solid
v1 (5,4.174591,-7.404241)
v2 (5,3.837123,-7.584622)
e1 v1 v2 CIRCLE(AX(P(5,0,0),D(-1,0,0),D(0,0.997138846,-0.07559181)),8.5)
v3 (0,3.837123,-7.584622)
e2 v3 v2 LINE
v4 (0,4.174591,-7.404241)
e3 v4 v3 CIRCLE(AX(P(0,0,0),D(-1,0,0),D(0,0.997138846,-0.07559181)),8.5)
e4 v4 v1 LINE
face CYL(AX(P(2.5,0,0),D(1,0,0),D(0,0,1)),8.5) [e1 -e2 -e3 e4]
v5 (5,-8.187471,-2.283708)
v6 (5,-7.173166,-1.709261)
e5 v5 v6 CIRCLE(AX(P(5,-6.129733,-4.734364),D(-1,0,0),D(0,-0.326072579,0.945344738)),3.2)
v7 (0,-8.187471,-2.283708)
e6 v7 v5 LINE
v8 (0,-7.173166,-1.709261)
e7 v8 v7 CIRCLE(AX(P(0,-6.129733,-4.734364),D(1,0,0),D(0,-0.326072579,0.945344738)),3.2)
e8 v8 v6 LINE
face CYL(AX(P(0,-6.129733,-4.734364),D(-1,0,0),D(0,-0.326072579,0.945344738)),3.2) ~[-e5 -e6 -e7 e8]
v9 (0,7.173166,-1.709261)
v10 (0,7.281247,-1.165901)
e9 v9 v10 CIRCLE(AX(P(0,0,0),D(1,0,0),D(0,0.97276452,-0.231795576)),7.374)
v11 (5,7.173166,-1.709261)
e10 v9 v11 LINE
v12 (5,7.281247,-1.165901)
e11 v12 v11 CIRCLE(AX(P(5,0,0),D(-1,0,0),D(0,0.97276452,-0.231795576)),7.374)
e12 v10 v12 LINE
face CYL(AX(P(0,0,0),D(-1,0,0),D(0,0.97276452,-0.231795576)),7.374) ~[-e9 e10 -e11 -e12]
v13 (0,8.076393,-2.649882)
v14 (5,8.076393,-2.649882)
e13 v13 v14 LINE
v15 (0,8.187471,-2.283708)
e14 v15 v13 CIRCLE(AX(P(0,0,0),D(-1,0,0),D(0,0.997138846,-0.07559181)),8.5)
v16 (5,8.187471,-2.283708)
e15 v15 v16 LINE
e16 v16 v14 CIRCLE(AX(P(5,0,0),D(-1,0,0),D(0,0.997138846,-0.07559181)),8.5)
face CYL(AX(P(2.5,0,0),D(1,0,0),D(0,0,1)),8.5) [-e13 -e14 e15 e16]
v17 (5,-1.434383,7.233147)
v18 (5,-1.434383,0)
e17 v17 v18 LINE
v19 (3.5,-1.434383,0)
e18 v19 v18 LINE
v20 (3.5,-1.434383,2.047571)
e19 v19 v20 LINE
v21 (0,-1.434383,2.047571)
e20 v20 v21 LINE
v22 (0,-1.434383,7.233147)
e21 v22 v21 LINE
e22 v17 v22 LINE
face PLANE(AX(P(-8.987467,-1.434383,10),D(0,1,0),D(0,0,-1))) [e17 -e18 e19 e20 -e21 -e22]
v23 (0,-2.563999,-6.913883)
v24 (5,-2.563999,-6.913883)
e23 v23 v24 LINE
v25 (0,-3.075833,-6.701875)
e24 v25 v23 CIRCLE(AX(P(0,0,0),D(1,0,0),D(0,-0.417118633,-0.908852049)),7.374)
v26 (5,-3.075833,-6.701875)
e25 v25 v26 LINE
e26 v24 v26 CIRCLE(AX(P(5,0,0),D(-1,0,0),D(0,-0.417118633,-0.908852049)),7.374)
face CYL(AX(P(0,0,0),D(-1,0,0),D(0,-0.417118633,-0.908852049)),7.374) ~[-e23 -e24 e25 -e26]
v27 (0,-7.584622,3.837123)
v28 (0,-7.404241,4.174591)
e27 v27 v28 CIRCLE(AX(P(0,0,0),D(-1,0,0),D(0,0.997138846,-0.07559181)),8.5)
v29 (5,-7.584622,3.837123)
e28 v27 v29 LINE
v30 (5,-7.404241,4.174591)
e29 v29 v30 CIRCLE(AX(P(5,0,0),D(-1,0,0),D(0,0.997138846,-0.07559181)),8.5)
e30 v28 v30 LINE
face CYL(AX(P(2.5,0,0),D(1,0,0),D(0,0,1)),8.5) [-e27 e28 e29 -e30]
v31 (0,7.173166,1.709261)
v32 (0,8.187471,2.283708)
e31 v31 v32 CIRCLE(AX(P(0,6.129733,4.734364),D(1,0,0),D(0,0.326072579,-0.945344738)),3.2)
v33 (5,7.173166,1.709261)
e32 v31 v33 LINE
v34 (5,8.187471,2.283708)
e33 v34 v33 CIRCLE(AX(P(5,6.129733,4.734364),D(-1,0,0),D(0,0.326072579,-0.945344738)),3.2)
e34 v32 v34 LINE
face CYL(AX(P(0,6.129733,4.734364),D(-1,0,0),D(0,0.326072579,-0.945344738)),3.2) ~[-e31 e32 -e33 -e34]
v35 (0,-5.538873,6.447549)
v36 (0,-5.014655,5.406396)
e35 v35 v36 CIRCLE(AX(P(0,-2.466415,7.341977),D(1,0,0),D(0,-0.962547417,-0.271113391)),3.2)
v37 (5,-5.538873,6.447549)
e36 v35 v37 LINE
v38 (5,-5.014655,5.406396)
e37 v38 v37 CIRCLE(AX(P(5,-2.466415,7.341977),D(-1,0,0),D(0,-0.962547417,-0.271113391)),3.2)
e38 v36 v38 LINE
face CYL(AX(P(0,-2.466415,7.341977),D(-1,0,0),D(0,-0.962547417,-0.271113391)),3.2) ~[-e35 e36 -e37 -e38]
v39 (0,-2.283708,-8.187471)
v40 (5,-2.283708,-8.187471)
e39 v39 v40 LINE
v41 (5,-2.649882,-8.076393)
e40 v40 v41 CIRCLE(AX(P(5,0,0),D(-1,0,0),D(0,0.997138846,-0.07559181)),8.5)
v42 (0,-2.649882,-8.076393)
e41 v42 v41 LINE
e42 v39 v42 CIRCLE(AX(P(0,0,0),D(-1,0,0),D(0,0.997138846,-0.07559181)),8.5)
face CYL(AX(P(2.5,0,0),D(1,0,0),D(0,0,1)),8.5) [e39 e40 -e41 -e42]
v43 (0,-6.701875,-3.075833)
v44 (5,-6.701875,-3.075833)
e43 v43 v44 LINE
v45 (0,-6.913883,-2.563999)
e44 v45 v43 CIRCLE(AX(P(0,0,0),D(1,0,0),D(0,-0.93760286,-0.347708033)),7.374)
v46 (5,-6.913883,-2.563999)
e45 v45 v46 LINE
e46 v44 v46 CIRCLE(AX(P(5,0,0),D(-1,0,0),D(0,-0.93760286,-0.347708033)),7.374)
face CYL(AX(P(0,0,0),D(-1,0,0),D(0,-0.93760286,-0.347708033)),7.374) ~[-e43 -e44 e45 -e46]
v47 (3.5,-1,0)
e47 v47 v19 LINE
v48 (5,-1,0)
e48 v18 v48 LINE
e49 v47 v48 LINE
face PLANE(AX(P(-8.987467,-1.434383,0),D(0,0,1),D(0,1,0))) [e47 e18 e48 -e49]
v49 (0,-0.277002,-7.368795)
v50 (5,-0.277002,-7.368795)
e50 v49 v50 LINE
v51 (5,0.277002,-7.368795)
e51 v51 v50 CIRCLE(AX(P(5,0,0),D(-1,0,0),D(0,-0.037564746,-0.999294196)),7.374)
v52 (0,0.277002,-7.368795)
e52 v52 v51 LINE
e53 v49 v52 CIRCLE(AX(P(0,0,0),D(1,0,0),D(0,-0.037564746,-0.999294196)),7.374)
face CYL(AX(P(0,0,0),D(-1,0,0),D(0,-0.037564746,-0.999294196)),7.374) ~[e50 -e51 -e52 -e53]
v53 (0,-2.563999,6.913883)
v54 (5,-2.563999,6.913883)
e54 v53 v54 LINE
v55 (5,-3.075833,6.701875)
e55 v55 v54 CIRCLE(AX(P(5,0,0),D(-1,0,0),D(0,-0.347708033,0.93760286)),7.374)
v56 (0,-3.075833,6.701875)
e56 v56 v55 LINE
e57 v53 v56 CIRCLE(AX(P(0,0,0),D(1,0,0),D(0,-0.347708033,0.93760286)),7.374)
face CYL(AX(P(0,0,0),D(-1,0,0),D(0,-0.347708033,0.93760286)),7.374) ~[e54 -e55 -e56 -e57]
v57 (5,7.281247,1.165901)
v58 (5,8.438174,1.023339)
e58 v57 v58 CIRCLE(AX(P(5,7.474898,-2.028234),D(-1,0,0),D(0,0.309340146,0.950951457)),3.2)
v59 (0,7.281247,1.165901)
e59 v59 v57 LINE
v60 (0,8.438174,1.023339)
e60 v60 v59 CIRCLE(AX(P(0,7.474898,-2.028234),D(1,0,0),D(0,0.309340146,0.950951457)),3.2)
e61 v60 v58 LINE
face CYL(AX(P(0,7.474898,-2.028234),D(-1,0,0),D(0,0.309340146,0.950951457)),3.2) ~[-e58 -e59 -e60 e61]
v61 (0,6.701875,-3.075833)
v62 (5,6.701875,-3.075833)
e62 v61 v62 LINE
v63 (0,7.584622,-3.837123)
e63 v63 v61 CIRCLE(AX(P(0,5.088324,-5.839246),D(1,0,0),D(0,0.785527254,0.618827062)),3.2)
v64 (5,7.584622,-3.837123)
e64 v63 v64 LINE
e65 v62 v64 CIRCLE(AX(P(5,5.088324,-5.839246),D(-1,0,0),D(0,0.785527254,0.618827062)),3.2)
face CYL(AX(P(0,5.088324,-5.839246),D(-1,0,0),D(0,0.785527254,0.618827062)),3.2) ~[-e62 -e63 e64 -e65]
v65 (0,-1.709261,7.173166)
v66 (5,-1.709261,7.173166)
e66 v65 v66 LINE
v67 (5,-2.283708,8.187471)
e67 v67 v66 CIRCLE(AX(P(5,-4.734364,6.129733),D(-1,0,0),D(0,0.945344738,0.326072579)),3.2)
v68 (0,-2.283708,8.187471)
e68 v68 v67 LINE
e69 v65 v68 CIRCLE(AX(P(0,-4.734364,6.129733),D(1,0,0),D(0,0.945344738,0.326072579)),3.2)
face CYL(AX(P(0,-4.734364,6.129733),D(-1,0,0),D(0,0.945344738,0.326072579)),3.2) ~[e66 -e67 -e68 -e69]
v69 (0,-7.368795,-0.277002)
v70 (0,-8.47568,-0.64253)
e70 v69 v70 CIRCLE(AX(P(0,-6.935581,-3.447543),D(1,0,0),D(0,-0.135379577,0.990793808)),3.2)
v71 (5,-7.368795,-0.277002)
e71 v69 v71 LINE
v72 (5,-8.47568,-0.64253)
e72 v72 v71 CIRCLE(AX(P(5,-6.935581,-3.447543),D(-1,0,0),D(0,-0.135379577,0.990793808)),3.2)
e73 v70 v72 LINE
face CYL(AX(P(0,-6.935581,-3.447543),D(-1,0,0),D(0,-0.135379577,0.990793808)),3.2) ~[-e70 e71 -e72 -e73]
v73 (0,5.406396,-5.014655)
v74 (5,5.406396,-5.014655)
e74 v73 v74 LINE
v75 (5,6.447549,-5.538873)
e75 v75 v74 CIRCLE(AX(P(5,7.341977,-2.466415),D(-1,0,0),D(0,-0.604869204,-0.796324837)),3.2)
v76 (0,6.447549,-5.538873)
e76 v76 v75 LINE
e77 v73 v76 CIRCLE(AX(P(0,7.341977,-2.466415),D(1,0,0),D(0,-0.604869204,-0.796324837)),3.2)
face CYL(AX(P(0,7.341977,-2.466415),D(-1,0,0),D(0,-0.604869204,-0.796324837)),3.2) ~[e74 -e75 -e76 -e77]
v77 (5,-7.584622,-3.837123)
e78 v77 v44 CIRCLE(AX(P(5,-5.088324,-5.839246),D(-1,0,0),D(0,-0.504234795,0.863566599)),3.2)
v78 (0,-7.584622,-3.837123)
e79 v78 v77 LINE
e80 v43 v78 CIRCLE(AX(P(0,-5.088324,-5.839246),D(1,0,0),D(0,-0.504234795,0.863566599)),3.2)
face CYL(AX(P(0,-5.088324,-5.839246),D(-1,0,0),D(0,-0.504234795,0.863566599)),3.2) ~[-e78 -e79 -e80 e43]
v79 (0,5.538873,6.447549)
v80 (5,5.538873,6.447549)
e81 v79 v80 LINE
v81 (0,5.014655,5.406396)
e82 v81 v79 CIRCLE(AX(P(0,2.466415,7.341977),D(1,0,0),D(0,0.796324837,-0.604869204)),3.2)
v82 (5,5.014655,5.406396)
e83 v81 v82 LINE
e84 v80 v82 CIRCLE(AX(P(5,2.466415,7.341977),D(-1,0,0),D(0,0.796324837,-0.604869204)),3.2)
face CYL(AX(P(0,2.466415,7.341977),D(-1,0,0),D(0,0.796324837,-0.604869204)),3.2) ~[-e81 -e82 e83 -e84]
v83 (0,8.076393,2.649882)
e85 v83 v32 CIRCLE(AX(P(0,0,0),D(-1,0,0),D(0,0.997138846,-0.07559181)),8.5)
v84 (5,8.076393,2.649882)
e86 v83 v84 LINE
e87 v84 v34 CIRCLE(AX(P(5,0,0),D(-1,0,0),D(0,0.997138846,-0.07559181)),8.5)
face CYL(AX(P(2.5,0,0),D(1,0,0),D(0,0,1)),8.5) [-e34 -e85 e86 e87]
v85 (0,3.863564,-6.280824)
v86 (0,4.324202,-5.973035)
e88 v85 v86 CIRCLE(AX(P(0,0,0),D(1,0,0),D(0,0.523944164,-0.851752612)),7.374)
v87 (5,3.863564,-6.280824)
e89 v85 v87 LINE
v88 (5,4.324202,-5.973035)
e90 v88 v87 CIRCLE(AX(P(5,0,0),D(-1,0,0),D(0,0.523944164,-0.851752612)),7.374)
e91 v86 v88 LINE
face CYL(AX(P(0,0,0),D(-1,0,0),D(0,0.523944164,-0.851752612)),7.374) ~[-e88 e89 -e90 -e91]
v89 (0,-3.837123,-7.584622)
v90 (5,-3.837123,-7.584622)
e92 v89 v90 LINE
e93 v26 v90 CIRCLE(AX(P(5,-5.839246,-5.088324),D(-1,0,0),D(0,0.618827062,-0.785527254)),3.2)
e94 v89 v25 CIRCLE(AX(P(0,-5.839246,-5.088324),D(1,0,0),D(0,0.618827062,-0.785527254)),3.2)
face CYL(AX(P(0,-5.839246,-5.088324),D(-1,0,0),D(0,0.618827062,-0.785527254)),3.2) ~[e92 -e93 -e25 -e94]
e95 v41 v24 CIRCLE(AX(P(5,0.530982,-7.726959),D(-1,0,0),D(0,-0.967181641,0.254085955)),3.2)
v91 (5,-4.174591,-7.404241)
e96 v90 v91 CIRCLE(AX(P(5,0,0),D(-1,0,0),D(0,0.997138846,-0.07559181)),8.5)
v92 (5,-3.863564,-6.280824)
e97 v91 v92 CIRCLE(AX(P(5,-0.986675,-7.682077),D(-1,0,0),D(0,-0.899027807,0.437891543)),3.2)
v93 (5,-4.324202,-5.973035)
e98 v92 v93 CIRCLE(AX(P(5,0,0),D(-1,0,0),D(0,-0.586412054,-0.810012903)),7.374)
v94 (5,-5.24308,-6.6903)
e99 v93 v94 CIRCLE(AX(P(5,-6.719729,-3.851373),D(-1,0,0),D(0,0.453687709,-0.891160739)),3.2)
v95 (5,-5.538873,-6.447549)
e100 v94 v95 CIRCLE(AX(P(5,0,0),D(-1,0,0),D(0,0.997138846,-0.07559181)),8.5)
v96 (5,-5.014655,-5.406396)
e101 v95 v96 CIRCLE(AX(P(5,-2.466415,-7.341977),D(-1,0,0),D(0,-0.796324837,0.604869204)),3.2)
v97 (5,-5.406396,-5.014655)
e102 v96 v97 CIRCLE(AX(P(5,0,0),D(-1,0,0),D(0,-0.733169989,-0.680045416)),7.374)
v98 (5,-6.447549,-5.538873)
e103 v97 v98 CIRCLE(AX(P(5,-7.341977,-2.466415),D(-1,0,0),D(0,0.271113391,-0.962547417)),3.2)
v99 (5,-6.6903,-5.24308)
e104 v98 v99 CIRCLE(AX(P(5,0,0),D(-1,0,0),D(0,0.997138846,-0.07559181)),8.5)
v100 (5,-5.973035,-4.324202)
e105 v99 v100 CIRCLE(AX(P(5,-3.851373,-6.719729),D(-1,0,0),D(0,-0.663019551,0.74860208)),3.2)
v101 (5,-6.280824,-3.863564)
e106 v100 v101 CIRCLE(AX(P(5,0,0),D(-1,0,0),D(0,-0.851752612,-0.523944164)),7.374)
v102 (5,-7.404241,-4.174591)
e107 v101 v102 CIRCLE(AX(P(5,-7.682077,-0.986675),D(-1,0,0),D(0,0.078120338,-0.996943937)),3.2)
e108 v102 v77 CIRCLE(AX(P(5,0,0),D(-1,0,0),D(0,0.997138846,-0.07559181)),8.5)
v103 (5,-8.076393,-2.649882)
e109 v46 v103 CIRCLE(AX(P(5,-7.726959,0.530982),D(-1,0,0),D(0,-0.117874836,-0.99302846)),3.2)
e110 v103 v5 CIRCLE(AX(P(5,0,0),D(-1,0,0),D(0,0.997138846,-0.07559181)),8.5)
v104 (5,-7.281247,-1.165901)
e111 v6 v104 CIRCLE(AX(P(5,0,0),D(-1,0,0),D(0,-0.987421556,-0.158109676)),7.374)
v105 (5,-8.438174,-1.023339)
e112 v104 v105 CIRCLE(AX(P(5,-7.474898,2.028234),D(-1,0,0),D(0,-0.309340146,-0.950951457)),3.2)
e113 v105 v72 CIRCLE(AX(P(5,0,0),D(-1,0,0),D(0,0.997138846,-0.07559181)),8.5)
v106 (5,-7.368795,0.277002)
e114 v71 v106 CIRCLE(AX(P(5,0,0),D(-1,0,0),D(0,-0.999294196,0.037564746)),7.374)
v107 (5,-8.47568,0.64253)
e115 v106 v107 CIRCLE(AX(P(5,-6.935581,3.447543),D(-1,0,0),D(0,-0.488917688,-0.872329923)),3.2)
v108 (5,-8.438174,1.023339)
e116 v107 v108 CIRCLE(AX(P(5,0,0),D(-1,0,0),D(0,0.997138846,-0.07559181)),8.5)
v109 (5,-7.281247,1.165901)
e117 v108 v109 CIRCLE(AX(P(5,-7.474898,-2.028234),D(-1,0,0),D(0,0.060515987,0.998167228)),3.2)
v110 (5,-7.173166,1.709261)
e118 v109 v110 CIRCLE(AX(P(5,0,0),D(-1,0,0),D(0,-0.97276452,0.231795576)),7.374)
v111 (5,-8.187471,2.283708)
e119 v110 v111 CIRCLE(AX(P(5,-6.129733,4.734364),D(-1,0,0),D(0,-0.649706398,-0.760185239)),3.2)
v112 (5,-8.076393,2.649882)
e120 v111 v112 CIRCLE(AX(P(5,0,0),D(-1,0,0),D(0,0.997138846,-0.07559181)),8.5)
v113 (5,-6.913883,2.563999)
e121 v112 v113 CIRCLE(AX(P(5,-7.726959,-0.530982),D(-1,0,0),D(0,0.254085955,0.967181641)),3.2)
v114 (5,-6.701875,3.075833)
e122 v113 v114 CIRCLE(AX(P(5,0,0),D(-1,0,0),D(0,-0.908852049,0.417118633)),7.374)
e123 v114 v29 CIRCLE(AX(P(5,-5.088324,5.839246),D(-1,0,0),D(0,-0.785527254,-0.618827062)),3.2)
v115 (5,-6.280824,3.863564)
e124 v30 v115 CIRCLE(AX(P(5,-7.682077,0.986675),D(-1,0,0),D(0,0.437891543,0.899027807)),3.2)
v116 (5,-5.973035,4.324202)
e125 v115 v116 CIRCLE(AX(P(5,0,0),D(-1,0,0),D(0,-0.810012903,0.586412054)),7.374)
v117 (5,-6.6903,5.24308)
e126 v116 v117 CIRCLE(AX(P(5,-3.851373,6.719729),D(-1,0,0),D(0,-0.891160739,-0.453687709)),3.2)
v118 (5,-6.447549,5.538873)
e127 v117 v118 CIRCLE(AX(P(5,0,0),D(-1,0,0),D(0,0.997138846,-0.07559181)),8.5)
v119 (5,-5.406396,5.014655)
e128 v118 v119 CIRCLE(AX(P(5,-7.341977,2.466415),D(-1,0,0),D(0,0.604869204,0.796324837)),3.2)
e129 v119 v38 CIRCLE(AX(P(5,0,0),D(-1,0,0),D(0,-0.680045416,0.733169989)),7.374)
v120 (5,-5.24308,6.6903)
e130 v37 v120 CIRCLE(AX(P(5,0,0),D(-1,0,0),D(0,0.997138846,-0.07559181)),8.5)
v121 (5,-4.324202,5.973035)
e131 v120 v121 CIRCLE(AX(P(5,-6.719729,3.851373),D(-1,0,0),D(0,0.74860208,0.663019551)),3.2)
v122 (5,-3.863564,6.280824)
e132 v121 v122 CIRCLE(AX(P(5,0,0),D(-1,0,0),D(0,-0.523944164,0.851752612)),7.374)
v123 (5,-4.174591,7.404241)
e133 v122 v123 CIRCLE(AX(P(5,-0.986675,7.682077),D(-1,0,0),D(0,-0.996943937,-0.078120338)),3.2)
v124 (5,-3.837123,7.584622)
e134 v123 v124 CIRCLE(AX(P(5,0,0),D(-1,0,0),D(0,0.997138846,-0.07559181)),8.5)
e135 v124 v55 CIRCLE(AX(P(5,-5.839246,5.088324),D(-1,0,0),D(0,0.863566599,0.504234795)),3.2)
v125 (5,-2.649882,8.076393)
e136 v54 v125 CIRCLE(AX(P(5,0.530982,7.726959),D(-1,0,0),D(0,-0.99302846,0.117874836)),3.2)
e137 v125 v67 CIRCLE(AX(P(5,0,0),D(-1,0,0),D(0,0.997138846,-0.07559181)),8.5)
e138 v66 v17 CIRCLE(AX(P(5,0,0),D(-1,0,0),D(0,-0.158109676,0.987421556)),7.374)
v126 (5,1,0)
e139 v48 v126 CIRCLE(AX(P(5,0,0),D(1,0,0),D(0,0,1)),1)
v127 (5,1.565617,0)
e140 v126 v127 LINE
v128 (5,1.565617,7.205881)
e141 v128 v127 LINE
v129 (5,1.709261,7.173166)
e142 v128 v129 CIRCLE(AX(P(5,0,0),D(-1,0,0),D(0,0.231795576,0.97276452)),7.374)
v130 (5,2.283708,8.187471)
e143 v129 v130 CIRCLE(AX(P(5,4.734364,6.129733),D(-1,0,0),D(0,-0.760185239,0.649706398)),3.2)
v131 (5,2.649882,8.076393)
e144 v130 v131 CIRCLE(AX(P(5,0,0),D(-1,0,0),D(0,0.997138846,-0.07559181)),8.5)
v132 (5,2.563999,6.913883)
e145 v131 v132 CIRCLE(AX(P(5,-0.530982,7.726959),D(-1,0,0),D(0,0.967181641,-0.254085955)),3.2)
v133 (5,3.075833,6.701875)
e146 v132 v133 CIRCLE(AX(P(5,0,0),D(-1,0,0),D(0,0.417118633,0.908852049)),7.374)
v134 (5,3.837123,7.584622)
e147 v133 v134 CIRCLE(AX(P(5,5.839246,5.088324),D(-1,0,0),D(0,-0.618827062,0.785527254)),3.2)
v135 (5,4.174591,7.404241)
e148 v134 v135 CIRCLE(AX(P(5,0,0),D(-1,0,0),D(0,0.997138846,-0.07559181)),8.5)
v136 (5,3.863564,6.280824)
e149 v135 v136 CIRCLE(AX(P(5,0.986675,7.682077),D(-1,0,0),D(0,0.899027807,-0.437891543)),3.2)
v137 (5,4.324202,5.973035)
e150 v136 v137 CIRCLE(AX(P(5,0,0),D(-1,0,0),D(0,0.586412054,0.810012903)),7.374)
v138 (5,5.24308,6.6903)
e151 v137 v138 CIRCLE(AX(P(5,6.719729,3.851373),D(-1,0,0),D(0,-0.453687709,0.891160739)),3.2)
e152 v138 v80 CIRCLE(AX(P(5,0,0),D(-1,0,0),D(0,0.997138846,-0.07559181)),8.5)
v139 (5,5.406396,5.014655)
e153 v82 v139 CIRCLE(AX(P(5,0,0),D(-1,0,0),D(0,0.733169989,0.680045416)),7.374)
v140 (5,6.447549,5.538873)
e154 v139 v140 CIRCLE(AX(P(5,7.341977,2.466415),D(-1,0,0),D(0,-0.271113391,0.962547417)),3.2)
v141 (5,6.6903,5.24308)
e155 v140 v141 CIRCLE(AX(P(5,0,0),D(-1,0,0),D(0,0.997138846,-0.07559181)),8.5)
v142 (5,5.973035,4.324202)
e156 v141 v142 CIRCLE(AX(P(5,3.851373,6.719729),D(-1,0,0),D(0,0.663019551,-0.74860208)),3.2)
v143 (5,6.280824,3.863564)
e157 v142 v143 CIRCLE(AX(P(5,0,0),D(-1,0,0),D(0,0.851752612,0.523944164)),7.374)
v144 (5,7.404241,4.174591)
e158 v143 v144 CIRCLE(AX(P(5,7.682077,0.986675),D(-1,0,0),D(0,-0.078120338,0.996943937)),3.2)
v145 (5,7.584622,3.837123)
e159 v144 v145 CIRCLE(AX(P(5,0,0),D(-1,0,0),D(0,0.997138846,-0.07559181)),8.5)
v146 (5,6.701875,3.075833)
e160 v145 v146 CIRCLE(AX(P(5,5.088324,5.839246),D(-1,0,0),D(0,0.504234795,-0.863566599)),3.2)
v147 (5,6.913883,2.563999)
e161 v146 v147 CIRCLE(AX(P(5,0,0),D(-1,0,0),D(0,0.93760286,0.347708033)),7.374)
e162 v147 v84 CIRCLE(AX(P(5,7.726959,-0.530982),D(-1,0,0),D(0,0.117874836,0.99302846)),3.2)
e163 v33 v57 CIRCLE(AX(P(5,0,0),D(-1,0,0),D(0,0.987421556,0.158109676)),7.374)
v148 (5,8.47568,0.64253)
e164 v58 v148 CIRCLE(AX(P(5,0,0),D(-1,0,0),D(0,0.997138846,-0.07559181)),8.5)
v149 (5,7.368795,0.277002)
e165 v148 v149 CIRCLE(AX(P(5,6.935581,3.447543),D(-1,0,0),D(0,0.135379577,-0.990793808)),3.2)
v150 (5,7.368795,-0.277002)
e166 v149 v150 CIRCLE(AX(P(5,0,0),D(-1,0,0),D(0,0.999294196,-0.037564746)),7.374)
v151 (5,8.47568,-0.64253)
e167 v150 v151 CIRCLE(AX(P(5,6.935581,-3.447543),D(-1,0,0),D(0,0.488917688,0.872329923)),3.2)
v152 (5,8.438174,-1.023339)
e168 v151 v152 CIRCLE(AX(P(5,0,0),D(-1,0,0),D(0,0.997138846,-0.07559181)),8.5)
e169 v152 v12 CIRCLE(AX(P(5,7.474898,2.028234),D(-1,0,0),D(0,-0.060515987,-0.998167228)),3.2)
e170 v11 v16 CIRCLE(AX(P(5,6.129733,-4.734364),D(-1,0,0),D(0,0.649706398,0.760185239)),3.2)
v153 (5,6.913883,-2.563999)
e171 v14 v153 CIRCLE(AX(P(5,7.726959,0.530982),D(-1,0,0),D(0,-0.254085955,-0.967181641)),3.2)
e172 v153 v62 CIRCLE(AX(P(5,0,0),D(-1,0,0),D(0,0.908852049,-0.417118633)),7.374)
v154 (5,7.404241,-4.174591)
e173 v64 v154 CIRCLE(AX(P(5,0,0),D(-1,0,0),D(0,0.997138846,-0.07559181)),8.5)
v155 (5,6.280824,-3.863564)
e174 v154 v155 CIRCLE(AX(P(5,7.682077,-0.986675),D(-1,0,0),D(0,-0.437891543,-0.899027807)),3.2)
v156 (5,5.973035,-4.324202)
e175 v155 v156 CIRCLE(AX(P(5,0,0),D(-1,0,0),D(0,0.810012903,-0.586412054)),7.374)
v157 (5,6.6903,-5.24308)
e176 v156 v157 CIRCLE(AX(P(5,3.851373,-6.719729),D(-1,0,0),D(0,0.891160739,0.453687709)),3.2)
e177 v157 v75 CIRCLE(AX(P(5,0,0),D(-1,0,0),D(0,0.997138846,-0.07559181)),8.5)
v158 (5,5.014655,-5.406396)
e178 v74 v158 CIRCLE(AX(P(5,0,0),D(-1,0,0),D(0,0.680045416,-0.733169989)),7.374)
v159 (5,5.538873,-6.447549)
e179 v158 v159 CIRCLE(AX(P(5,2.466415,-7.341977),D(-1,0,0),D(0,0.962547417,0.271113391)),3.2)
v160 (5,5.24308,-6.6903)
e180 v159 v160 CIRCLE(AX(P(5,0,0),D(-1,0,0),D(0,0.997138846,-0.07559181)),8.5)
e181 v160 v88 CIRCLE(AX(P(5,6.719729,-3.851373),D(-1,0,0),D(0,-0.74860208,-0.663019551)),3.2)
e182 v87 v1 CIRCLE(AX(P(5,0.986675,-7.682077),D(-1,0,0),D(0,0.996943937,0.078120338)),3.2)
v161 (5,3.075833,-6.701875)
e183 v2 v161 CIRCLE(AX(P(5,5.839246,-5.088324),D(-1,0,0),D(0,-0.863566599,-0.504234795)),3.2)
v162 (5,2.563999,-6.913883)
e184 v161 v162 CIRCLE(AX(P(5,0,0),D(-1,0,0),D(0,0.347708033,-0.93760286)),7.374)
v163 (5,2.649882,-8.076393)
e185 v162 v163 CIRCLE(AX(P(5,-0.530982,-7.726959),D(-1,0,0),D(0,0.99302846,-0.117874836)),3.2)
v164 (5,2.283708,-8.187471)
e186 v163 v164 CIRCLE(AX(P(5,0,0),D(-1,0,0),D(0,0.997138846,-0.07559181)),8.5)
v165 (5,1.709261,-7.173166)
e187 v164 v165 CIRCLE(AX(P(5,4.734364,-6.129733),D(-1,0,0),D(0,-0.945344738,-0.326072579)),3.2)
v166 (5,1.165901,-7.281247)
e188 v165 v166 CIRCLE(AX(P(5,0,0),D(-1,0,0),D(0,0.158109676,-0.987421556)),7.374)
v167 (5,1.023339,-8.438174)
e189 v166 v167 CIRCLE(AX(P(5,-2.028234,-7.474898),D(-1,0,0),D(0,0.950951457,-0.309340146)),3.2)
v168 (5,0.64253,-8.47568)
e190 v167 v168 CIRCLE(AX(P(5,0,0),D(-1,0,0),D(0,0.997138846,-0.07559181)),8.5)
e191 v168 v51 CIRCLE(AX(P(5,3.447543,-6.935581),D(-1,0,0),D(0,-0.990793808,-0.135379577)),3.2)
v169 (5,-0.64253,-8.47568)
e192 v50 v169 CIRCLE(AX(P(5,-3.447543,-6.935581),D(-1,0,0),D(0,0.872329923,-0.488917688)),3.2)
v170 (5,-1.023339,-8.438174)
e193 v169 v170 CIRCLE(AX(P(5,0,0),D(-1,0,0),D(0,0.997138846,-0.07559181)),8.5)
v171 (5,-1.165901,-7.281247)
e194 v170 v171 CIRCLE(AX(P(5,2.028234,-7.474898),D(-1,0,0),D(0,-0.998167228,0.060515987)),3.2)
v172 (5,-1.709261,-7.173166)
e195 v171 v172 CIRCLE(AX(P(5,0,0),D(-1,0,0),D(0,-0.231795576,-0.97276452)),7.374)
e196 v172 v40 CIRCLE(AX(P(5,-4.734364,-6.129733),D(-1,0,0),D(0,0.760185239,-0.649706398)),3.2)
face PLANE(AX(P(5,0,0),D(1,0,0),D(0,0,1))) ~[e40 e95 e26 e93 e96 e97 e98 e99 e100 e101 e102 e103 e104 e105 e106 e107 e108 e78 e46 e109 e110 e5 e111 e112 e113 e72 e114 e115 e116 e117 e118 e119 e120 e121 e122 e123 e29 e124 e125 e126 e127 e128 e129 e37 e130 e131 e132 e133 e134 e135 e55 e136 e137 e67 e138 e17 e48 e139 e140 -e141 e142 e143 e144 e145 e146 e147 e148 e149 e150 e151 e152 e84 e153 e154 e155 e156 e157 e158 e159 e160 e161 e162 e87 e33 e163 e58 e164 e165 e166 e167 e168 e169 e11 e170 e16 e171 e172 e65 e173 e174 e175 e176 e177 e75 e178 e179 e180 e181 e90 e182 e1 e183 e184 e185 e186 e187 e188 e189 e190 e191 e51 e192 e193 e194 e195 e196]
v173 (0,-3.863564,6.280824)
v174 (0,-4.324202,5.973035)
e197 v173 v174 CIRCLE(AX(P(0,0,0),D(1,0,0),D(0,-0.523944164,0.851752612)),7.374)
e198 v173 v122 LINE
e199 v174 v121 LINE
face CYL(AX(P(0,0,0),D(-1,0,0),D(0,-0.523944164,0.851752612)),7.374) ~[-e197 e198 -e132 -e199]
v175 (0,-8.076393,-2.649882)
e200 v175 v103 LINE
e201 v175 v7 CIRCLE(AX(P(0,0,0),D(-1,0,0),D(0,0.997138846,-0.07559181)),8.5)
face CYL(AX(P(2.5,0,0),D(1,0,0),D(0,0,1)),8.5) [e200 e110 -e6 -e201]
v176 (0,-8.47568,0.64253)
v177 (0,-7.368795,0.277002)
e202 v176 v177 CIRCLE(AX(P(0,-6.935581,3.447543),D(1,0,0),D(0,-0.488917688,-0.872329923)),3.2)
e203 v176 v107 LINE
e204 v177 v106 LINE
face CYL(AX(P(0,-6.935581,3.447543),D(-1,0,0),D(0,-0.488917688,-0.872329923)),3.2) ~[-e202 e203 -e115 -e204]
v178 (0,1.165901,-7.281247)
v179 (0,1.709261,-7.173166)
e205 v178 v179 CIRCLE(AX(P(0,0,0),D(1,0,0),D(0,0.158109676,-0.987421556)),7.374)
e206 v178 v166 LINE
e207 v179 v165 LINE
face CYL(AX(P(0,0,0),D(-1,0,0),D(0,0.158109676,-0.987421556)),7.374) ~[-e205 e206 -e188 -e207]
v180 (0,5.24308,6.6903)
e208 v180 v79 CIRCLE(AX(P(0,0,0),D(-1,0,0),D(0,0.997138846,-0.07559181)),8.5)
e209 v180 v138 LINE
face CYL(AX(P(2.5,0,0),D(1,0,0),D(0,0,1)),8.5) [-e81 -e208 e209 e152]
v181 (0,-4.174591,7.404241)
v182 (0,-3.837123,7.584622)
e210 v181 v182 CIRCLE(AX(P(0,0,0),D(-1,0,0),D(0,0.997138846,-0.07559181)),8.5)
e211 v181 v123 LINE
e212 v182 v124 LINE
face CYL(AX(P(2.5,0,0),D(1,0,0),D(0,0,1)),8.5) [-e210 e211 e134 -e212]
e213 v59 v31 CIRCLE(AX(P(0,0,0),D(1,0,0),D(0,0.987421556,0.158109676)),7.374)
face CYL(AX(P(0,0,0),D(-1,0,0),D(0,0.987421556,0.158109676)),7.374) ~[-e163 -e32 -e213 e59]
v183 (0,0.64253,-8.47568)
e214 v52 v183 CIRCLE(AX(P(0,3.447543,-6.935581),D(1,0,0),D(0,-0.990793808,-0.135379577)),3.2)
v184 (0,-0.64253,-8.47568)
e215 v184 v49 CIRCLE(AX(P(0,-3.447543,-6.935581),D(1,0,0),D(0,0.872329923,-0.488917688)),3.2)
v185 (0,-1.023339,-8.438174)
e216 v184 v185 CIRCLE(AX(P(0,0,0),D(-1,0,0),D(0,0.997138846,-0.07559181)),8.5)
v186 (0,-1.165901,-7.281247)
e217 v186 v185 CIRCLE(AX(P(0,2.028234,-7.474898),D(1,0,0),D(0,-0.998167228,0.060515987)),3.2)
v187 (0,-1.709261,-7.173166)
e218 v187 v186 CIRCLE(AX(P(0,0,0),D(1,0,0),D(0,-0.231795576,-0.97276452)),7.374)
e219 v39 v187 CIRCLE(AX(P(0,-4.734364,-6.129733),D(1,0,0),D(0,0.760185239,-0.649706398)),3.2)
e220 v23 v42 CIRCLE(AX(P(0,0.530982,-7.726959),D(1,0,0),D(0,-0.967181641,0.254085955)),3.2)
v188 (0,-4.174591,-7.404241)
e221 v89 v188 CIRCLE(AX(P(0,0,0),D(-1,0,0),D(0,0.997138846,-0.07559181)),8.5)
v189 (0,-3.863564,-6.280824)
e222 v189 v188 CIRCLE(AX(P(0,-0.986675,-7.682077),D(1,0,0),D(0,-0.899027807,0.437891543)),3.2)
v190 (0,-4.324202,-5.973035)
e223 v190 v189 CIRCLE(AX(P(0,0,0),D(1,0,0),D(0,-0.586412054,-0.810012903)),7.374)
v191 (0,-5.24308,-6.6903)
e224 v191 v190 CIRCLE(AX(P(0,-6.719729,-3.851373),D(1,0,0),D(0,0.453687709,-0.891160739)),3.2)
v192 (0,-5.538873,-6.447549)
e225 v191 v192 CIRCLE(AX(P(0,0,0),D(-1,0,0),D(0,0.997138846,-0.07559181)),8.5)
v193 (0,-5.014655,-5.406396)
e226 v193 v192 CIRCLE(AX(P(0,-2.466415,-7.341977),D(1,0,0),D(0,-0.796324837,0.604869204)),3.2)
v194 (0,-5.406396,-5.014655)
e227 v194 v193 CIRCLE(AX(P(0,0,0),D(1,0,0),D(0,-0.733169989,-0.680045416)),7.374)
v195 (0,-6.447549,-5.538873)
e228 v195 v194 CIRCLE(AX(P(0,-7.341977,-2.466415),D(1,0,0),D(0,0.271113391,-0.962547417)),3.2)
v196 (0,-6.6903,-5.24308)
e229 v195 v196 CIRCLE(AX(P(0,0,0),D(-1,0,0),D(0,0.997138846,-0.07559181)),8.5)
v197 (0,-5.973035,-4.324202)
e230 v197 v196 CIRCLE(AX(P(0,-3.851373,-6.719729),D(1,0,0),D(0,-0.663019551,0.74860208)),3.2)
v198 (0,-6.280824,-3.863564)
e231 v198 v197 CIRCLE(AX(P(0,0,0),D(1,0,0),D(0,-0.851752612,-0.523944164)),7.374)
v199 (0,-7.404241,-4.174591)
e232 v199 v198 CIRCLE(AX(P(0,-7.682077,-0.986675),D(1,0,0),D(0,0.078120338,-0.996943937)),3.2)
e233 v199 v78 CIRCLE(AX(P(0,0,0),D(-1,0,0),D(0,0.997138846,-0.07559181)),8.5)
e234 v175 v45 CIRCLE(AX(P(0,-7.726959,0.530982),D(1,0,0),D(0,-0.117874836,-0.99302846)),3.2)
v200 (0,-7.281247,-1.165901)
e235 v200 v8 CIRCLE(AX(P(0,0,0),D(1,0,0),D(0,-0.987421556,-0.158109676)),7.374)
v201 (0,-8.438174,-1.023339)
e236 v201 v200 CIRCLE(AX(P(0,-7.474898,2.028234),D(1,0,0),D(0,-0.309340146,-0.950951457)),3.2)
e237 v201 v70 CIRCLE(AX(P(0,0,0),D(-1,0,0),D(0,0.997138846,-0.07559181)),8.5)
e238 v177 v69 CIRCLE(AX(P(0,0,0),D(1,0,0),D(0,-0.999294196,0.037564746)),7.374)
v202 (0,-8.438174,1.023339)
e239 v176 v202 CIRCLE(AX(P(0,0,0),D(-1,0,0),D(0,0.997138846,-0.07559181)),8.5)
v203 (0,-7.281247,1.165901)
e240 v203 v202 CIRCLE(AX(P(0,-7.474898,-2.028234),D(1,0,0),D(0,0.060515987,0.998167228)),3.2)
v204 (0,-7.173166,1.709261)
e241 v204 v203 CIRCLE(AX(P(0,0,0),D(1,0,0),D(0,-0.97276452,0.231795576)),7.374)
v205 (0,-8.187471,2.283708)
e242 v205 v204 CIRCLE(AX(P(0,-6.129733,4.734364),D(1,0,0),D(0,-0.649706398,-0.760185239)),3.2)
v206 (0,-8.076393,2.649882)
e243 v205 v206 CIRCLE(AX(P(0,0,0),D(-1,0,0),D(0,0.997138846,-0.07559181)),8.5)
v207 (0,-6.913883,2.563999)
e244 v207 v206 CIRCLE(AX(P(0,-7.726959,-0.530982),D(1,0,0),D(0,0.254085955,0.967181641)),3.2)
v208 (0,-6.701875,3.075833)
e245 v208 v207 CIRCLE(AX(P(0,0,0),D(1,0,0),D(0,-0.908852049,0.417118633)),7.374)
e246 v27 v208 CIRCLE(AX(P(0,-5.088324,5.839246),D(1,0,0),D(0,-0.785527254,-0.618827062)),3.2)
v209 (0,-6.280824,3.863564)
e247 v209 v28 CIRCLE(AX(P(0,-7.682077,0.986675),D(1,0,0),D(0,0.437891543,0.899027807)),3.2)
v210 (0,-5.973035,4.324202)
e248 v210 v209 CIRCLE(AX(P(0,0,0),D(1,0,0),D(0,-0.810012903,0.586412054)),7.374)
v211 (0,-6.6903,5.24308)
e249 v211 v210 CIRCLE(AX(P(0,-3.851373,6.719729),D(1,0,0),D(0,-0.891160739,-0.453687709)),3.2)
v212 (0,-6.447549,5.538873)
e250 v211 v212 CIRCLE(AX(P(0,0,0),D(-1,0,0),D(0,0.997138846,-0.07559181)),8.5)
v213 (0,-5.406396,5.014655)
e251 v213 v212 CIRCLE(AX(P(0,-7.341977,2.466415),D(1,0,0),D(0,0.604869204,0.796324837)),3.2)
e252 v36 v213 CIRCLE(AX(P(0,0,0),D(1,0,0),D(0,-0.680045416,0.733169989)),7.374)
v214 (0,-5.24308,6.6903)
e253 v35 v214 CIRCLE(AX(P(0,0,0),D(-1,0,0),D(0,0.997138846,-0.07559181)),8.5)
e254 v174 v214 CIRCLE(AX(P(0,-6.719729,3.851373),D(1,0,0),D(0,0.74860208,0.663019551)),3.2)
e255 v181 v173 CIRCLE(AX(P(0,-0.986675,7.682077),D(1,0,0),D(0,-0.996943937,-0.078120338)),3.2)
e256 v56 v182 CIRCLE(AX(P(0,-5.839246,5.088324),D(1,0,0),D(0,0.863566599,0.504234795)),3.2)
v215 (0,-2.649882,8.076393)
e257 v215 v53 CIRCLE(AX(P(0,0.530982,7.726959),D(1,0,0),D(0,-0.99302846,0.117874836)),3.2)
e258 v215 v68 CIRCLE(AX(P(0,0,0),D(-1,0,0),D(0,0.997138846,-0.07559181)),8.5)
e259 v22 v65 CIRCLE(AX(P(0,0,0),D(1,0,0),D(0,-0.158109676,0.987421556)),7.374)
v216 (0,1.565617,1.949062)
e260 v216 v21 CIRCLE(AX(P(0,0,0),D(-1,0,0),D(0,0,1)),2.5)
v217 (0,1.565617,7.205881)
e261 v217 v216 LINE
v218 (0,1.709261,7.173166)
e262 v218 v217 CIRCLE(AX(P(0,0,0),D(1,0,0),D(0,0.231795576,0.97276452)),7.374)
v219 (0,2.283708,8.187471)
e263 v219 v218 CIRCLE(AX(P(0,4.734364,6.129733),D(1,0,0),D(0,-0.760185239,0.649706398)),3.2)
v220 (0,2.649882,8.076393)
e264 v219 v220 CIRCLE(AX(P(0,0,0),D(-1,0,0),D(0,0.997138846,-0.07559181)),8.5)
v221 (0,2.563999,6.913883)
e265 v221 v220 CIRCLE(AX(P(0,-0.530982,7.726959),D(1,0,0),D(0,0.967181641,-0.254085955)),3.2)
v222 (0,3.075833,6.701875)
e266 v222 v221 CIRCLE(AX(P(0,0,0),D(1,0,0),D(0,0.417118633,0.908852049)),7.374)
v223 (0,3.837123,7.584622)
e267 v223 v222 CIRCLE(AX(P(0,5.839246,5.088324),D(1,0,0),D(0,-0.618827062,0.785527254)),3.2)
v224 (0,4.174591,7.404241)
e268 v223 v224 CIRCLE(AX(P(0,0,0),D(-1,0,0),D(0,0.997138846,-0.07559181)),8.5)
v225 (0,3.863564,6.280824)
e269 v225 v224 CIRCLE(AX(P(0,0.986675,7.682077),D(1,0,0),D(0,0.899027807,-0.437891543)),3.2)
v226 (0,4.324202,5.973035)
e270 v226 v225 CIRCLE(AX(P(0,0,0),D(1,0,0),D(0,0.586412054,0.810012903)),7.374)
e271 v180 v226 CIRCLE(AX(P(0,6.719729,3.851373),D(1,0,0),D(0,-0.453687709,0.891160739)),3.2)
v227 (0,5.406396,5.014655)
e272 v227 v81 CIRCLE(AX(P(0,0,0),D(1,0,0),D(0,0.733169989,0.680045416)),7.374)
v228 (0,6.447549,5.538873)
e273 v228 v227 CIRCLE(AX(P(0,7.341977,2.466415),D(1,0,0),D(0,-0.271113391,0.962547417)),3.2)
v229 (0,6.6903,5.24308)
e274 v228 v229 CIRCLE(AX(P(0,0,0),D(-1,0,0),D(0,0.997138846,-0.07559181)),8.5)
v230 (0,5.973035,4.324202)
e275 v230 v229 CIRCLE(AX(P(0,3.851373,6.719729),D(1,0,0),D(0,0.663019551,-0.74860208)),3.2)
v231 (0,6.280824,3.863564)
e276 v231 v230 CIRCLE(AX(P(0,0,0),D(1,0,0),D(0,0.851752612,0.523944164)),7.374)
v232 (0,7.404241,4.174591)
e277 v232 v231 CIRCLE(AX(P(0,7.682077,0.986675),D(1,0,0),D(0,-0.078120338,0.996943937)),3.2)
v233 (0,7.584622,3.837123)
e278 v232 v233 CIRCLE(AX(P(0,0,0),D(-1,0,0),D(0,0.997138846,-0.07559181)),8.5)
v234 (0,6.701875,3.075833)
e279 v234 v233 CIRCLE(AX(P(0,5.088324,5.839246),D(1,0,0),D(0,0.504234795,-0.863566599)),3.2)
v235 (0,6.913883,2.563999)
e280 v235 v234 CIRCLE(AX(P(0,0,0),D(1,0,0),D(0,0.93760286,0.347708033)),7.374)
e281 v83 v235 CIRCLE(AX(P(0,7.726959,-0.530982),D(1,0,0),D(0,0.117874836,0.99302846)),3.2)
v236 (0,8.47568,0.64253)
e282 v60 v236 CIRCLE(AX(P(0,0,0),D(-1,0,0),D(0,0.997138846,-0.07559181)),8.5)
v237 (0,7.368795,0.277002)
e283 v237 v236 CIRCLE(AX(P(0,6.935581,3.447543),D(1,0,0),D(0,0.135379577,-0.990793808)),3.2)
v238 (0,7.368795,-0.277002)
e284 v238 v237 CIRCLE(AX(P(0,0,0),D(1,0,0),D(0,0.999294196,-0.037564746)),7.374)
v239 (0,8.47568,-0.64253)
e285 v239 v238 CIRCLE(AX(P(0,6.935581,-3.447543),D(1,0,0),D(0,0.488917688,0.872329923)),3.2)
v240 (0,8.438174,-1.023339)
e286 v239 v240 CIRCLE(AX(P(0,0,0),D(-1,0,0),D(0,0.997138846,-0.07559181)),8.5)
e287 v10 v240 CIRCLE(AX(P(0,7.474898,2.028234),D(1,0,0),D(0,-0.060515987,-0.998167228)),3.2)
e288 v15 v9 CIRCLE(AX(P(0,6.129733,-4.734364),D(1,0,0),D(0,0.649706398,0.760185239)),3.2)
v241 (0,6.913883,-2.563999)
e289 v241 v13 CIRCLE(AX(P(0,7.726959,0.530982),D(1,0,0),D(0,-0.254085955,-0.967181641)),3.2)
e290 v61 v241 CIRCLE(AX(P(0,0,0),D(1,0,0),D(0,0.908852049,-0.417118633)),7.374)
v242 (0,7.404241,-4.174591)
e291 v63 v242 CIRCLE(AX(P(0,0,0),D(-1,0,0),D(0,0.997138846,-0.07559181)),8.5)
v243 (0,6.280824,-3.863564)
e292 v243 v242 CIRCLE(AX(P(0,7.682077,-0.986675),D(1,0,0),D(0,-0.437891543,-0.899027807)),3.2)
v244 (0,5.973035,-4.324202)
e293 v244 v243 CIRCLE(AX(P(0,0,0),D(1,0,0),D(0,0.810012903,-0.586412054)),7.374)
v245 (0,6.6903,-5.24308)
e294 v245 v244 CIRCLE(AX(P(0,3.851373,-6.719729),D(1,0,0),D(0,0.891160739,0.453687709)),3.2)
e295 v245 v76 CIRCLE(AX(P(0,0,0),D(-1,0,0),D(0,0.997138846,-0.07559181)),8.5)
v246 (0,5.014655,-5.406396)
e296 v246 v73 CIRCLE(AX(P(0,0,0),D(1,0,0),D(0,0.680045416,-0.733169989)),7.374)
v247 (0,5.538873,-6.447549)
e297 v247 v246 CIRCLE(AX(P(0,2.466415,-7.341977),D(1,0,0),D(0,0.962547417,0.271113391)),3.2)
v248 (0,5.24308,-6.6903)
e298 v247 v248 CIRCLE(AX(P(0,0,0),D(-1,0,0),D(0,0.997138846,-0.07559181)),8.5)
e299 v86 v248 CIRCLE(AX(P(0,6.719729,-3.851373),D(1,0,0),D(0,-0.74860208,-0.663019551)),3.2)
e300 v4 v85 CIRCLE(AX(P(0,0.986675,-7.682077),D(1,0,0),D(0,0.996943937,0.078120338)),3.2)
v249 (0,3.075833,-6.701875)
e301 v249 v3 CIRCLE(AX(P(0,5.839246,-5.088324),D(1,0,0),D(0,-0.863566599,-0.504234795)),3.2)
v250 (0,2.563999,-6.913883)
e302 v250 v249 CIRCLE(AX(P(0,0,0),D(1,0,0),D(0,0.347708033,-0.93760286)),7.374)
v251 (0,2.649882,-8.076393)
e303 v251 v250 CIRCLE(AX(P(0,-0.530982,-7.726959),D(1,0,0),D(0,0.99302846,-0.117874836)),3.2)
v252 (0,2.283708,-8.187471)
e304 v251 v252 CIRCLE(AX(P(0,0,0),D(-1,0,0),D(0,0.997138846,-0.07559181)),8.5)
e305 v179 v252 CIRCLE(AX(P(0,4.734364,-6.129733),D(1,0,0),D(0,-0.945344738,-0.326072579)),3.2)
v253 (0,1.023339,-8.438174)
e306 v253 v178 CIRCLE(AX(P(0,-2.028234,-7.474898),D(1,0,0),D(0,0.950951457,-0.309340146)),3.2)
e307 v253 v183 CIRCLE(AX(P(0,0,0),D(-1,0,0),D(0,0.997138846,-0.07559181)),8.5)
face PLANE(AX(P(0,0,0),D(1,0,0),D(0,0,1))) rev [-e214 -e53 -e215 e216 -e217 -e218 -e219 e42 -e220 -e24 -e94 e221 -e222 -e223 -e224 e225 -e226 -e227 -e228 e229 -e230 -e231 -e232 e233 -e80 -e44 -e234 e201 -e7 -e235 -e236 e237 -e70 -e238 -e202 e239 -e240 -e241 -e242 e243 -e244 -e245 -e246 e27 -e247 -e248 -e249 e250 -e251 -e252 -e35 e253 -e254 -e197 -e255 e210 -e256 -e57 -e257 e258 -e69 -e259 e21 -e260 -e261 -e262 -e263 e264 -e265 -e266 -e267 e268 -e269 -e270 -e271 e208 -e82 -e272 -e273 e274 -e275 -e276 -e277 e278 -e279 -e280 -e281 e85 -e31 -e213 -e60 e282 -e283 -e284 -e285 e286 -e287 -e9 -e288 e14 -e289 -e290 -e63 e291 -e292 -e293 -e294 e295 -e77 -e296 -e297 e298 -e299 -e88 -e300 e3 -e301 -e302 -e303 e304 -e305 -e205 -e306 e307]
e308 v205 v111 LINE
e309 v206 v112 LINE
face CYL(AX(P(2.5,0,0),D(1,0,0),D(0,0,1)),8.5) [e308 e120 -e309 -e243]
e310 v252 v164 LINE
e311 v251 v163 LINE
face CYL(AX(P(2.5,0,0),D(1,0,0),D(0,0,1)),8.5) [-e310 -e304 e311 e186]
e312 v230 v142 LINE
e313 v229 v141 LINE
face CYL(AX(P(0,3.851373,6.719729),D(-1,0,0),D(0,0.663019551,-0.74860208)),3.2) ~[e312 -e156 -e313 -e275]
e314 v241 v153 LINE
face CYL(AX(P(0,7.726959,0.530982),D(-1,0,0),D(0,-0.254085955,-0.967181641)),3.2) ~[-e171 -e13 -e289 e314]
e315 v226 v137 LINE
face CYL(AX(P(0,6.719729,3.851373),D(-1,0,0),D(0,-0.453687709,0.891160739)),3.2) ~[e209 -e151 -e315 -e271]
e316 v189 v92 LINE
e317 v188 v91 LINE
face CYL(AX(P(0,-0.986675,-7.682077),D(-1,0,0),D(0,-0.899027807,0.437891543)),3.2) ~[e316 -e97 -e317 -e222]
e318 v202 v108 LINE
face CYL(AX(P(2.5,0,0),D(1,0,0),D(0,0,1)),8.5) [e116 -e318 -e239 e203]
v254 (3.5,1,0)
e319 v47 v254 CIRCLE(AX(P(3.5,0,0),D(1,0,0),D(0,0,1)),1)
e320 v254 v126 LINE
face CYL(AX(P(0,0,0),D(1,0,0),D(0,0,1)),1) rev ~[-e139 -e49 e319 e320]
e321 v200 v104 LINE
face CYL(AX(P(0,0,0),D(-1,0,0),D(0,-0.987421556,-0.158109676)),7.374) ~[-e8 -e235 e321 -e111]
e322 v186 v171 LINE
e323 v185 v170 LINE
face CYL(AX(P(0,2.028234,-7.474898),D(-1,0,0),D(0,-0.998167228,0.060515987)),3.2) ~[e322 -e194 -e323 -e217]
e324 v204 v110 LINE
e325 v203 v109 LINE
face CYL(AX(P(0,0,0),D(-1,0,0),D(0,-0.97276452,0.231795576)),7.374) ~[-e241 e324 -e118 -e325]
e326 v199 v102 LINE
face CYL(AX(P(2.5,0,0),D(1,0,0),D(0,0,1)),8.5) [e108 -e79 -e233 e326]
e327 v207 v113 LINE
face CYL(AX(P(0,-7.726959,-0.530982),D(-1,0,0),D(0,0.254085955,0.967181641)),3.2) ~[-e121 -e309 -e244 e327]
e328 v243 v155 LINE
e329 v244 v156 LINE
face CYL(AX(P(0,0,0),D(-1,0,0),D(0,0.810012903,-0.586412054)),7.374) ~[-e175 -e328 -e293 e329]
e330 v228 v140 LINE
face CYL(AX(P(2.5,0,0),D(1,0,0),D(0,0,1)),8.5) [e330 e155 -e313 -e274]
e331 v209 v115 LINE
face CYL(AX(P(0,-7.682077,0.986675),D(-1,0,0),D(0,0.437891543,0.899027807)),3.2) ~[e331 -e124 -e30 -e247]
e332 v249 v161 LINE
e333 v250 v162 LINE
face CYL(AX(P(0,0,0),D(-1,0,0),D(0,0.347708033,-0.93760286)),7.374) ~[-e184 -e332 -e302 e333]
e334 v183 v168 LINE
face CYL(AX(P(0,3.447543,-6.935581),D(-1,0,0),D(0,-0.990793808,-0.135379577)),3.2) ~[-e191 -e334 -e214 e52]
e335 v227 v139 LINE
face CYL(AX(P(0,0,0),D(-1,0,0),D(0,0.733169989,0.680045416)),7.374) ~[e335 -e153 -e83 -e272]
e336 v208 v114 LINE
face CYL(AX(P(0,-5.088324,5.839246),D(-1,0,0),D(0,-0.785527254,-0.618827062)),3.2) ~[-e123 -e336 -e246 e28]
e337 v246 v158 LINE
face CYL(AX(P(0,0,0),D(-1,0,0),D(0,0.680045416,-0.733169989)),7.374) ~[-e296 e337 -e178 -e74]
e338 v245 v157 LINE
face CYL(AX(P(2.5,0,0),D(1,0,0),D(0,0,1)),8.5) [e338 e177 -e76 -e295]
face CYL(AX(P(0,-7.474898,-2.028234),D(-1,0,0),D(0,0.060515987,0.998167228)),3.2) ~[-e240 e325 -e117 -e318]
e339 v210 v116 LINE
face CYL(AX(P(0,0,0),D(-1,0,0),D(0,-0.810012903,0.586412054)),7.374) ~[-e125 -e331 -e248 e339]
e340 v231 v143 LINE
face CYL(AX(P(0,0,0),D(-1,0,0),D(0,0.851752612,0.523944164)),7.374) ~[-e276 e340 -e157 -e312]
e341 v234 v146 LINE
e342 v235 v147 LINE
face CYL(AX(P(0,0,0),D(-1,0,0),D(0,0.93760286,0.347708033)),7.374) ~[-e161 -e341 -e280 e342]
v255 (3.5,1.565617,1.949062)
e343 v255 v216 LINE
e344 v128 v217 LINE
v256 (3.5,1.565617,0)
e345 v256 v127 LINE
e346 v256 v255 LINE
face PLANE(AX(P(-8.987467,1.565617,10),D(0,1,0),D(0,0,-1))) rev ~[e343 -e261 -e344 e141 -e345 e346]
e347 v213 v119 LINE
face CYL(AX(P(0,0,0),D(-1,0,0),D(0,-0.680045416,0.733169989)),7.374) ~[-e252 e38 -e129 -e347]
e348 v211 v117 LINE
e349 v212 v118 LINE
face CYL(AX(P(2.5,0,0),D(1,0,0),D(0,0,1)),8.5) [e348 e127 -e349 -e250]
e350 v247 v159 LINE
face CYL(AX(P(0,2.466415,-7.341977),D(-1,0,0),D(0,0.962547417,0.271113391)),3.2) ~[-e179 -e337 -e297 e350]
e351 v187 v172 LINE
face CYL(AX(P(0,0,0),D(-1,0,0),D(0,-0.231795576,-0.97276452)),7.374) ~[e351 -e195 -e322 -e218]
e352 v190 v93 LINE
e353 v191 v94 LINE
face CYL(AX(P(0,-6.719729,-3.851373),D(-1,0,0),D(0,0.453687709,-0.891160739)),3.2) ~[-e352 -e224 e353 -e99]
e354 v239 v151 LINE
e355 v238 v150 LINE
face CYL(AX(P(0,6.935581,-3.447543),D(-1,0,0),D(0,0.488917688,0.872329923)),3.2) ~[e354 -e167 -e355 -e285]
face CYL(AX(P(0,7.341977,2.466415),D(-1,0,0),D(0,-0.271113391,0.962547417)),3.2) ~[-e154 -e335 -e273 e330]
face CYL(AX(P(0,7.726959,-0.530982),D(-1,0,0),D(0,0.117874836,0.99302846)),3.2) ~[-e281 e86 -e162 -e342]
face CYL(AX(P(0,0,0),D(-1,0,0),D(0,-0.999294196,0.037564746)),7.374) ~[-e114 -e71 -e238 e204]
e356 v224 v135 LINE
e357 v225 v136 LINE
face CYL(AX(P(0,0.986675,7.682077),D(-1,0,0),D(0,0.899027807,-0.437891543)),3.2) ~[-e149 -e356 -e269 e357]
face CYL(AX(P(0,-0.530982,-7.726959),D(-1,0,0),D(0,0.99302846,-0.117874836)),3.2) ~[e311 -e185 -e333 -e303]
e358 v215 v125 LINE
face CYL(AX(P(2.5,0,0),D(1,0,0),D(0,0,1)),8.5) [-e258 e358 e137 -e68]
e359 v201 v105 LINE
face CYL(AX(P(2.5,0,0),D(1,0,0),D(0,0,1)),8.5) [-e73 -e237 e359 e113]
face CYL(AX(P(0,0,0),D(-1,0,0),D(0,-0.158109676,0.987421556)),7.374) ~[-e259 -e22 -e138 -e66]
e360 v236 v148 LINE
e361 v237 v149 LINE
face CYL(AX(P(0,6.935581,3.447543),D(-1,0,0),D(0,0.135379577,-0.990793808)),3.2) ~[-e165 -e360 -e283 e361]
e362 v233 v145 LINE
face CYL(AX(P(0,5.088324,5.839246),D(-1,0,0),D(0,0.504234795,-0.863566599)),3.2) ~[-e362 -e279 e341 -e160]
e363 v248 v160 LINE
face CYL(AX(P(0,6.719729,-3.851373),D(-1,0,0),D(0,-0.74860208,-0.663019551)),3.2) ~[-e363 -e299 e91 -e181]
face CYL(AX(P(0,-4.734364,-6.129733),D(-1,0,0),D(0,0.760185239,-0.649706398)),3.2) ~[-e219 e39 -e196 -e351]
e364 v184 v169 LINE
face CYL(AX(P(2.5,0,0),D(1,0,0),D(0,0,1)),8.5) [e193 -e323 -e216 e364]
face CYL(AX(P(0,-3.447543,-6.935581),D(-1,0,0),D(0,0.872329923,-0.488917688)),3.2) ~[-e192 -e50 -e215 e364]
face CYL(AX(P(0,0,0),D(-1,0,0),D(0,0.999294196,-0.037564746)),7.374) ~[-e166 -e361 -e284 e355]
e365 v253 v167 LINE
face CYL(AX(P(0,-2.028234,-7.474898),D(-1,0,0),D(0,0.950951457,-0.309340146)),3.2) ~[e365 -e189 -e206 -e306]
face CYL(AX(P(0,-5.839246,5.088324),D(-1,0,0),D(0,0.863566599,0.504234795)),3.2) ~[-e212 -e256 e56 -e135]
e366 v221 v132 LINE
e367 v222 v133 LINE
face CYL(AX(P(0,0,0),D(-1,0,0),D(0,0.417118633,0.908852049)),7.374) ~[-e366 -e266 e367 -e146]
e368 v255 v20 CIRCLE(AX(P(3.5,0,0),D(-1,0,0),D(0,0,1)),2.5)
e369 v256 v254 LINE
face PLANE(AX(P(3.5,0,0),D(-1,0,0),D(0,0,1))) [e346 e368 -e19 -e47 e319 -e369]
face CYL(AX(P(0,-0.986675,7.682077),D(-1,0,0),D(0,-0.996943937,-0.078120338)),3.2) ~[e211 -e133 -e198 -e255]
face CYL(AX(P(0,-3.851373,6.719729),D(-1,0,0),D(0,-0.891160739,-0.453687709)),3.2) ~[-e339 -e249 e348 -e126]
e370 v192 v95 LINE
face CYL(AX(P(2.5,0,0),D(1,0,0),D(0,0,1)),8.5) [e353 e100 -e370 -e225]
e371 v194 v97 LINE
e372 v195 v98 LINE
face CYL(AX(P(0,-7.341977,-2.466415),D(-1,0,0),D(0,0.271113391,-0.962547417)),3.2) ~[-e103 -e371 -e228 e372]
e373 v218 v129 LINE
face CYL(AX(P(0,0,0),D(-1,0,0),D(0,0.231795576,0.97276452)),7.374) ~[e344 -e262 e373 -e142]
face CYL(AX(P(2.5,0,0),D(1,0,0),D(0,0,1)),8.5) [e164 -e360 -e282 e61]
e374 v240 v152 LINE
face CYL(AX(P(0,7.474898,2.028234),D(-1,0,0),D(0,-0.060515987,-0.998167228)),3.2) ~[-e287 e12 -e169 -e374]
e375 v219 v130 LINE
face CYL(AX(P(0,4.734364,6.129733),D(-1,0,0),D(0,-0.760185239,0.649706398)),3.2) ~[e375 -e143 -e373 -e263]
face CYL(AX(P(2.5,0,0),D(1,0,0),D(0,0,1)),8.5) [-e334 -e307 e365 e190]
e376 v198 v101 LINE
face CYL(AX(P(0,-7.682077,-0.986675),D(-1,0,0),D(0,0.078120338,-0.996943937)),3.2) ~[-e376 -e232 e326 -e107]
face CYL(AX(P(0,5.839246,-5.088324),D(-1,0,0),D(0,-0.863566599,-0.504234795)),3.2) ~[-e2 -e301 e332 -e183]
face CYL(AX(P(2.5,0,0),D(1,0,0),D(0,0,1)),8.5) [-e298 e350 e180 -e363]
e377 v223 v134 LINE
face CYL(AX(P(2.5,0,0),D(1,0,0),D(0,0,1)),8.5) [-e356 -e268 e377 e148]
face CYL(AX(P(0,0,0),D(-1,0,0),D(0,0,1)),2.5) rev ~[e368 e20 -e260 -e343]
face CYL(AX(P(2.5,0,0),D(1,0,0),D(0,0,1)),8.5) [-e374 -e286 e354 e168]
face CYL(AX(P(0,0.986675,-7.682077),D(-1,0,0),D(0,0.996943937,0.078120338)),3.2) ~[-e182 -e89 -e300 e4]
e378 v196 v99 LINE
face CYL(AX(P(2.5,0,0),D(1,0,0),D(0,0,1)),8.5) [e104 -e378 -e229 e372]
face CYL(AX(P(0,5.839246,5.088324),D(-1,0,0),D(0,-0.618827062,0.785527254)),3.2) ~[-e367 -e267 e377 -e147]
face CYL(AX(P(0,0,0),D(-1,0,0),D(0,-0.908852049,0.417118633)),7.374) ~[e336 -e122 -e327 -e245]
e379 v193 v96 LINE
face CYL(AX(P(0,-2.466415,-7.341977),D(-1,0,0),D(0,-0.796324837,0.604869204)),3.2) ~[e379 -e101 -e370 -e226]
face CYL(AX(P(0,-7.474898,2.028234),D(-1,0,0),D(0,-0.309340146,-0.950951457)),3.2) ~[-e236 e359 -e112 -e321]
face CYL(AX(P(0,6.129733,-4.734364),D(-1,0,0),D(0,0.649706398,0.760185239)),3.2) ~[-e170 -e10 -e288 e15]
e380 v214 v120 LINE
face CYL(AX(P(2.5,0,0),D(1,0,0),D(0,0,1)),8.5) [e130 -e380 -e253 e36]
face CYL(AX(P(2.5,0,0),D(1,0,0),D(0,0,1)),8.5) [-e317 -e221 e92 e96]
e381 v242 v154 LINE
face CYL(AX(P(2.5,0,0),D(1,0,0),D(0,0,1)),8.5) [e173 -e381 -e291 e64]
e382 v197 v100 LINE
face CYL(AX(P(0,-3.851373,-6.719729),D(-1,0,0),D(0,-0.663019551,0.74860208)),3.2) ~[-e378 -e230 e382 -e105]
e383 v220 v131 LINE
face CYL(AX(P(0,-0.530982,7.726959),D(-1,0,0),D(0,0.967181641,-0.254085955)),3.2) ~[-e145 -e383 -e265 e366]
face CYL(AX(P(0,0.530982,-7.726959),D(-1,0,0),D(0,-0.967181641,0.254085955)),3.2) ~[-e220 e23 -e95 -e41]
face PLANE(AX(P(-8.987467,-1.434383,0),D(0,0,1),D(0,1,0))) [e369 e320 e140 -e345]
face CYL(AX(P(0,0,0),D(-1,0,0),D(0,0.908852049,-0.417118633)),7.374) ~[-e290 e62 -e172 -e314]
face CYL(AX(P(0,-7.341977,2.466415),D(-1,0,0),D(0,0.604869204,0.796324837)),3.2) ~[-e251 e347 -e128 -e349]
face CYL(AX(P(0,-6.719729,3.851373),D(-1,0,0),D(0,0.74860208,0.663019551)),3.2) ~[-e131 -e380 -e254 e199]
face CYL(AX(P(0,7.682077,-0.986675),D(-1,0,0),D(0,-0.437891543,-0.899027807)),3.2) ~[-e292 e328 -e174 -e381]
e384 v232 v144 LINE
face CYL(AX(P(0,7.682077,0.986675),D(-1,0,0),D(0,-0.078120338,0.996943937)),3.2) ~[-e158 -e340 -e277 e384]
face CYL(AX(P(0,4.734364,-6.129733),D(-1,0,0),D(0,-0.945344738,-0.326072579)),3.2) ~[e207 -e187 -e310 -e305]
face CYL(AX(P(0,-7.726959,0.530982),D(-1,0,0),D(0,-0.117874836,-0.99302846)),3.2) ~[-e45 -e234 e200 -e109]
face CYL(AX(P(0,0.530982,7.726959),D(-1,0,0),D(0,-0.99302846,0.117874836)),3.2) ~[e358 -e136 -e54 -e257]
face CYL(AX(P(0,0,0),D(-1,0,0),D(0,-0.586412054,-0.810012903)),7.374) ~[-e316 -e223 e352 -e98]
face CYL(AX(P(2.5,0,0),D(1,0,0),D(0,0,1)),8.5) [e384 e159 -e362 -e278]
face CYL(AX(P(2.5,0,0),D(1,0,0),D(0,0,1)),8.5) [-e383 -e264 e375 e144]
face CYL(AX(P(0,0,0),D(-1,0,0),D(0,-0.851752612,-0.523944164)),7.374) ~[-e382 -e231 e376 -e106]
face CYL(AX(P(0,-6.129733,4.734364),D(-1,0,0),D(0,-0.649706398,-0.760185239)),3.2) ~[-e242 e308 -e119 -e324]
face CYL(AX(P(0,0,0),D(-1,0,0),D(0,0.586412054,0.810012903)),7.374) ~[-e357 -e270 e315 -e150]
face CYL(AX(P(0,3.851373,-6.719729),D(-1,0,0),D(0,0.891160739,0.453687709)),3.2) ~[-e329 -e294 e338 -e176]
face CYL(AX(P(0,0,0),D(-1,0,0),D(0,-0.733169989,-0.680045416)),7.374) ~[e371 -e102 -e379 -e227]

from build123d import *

# Parameters (mm, degrees)
BASPROSKE_W             = 5
BASPROSKE_H             = 8.5
TOOTHCUT_DEPTH          = 14.019216566
TEETHCUTS_COUNT         = 32
TEETHCUTS_ANGLE         = 348.75
BORSKE_R                = 1
BORE_DEPTH              = 50.0000508
CUT_EXTRUDE1_DEPTH      = 13.987467398
CUT_EXTRUDE1_DEPTH_BACK = 13.987467398
SKETCH1_W               = 10
SKETCH1_H               = 3
SKETCH2_R               = 2.5
CUT_EXTRUDE2_DEPTH      = 3.5


with BuildPart() as part:
    # BasProSke → Base-Revolve (revolve)
    with BuildSketch(Plane(origin=(0, 0, 0), x_dir=(1, 0, 0), z_dir=(0, 1, 0)), mode=Mode.PRIVATE) as base_revolve_sk:
        with Locations((2.5, 4.25)):
            Rectangle(BASPROSKE_W, BASPROSKE_H)
    revolve(base_revolve_sk.sketch.rotate(Axis((-10, 0, 0), (1, 0, 0)), 180), axis=Axis((-10, 0, 0), (1, 0, 0)))

    # TooCutSke → ToothCut (cut, through all)
    with BuildSketch(Plane(origin=(0, 0, 0), x_dir=(0, 0, -1), z_dir=(1, 0, 0))):
        with BuildLine():
            ThreePointArc((0.277002447, 7.3687954), (0, 7.374), (-0.277002447, 7.3687954))
            ThreePointArc((-0.277002447, 7.3687954), (-0.41335061, 7.952280695), (-0.656086882, 8.500117362))
            ThreePointArc((-0.656086882, 8.500117362), (0, 8.5254), (0.656086882, 8.500117362))
            ThreePointArc((0.656086882, 8.500117362), (0.41335061, 7.952280695), (0.277002447, 7.3687954))
        make_face()
    toothcut = extrude(amount=TOOTHCUT_DEPTH, mode=Mode.SUBTRACT)

    # TeethCuts: ToothCut ×32 about axis
    teethcuts_axis = Axis((-10, 0, 0), (1, 0, 0))
    for i in range(1, TEETHCUTS_COUNT):
        add(toothcut.rotate(teethcuts_axis, i * TEETHCUTS_ANGLE / (TEETHCUTS_COUNT - 1)), mode=Mode.SUBTRACT)

    # BorSke → Bore (cut, symmetric)
    with BuildSketch(Plane(origin=(0, 0, 0), x_dir=(0, 0, -1), z_dir=(1, 0, 0))):
        with Locations(Location((0, 0, 0), (0, 0, 180))):
            Circle(BORSKE_R)
    extrude(amount=BORE_DEPTH, both=True, mode=Mode.SUBTRACT)

    # Sketch1 → Cut-Extrude1 (cut, two sides: drawn at the far end of the back side and taken through both)
    with BuildSketch(Plane(origin=(5, 0, 0), x_dir=(0, 0, -1), z_dir=(1, 0, 0)).offset(-CUT_EXTRUDE1_DEPTH_BACK)):
        with Locations((-5, 0.065617364)):
            Rectangle(SKETCH1_W, SKETCH1_H)
    extrude(amount=CUT_EXTRUDE1_DEPTH + CUT_EXTRUDE1_DEPTH_BACK, mode=Mode.SUBTRACT)

    # Sketch2 → Cut-Extrude2 (cut)
    with BuildSketch(Plane.ZY):
        Circle(SKETCH2_R)
    extrude(amount=-CUT_EXTRUDE2_DEPTH, mode=Mode.SUBTRACT)


solid = part.part
